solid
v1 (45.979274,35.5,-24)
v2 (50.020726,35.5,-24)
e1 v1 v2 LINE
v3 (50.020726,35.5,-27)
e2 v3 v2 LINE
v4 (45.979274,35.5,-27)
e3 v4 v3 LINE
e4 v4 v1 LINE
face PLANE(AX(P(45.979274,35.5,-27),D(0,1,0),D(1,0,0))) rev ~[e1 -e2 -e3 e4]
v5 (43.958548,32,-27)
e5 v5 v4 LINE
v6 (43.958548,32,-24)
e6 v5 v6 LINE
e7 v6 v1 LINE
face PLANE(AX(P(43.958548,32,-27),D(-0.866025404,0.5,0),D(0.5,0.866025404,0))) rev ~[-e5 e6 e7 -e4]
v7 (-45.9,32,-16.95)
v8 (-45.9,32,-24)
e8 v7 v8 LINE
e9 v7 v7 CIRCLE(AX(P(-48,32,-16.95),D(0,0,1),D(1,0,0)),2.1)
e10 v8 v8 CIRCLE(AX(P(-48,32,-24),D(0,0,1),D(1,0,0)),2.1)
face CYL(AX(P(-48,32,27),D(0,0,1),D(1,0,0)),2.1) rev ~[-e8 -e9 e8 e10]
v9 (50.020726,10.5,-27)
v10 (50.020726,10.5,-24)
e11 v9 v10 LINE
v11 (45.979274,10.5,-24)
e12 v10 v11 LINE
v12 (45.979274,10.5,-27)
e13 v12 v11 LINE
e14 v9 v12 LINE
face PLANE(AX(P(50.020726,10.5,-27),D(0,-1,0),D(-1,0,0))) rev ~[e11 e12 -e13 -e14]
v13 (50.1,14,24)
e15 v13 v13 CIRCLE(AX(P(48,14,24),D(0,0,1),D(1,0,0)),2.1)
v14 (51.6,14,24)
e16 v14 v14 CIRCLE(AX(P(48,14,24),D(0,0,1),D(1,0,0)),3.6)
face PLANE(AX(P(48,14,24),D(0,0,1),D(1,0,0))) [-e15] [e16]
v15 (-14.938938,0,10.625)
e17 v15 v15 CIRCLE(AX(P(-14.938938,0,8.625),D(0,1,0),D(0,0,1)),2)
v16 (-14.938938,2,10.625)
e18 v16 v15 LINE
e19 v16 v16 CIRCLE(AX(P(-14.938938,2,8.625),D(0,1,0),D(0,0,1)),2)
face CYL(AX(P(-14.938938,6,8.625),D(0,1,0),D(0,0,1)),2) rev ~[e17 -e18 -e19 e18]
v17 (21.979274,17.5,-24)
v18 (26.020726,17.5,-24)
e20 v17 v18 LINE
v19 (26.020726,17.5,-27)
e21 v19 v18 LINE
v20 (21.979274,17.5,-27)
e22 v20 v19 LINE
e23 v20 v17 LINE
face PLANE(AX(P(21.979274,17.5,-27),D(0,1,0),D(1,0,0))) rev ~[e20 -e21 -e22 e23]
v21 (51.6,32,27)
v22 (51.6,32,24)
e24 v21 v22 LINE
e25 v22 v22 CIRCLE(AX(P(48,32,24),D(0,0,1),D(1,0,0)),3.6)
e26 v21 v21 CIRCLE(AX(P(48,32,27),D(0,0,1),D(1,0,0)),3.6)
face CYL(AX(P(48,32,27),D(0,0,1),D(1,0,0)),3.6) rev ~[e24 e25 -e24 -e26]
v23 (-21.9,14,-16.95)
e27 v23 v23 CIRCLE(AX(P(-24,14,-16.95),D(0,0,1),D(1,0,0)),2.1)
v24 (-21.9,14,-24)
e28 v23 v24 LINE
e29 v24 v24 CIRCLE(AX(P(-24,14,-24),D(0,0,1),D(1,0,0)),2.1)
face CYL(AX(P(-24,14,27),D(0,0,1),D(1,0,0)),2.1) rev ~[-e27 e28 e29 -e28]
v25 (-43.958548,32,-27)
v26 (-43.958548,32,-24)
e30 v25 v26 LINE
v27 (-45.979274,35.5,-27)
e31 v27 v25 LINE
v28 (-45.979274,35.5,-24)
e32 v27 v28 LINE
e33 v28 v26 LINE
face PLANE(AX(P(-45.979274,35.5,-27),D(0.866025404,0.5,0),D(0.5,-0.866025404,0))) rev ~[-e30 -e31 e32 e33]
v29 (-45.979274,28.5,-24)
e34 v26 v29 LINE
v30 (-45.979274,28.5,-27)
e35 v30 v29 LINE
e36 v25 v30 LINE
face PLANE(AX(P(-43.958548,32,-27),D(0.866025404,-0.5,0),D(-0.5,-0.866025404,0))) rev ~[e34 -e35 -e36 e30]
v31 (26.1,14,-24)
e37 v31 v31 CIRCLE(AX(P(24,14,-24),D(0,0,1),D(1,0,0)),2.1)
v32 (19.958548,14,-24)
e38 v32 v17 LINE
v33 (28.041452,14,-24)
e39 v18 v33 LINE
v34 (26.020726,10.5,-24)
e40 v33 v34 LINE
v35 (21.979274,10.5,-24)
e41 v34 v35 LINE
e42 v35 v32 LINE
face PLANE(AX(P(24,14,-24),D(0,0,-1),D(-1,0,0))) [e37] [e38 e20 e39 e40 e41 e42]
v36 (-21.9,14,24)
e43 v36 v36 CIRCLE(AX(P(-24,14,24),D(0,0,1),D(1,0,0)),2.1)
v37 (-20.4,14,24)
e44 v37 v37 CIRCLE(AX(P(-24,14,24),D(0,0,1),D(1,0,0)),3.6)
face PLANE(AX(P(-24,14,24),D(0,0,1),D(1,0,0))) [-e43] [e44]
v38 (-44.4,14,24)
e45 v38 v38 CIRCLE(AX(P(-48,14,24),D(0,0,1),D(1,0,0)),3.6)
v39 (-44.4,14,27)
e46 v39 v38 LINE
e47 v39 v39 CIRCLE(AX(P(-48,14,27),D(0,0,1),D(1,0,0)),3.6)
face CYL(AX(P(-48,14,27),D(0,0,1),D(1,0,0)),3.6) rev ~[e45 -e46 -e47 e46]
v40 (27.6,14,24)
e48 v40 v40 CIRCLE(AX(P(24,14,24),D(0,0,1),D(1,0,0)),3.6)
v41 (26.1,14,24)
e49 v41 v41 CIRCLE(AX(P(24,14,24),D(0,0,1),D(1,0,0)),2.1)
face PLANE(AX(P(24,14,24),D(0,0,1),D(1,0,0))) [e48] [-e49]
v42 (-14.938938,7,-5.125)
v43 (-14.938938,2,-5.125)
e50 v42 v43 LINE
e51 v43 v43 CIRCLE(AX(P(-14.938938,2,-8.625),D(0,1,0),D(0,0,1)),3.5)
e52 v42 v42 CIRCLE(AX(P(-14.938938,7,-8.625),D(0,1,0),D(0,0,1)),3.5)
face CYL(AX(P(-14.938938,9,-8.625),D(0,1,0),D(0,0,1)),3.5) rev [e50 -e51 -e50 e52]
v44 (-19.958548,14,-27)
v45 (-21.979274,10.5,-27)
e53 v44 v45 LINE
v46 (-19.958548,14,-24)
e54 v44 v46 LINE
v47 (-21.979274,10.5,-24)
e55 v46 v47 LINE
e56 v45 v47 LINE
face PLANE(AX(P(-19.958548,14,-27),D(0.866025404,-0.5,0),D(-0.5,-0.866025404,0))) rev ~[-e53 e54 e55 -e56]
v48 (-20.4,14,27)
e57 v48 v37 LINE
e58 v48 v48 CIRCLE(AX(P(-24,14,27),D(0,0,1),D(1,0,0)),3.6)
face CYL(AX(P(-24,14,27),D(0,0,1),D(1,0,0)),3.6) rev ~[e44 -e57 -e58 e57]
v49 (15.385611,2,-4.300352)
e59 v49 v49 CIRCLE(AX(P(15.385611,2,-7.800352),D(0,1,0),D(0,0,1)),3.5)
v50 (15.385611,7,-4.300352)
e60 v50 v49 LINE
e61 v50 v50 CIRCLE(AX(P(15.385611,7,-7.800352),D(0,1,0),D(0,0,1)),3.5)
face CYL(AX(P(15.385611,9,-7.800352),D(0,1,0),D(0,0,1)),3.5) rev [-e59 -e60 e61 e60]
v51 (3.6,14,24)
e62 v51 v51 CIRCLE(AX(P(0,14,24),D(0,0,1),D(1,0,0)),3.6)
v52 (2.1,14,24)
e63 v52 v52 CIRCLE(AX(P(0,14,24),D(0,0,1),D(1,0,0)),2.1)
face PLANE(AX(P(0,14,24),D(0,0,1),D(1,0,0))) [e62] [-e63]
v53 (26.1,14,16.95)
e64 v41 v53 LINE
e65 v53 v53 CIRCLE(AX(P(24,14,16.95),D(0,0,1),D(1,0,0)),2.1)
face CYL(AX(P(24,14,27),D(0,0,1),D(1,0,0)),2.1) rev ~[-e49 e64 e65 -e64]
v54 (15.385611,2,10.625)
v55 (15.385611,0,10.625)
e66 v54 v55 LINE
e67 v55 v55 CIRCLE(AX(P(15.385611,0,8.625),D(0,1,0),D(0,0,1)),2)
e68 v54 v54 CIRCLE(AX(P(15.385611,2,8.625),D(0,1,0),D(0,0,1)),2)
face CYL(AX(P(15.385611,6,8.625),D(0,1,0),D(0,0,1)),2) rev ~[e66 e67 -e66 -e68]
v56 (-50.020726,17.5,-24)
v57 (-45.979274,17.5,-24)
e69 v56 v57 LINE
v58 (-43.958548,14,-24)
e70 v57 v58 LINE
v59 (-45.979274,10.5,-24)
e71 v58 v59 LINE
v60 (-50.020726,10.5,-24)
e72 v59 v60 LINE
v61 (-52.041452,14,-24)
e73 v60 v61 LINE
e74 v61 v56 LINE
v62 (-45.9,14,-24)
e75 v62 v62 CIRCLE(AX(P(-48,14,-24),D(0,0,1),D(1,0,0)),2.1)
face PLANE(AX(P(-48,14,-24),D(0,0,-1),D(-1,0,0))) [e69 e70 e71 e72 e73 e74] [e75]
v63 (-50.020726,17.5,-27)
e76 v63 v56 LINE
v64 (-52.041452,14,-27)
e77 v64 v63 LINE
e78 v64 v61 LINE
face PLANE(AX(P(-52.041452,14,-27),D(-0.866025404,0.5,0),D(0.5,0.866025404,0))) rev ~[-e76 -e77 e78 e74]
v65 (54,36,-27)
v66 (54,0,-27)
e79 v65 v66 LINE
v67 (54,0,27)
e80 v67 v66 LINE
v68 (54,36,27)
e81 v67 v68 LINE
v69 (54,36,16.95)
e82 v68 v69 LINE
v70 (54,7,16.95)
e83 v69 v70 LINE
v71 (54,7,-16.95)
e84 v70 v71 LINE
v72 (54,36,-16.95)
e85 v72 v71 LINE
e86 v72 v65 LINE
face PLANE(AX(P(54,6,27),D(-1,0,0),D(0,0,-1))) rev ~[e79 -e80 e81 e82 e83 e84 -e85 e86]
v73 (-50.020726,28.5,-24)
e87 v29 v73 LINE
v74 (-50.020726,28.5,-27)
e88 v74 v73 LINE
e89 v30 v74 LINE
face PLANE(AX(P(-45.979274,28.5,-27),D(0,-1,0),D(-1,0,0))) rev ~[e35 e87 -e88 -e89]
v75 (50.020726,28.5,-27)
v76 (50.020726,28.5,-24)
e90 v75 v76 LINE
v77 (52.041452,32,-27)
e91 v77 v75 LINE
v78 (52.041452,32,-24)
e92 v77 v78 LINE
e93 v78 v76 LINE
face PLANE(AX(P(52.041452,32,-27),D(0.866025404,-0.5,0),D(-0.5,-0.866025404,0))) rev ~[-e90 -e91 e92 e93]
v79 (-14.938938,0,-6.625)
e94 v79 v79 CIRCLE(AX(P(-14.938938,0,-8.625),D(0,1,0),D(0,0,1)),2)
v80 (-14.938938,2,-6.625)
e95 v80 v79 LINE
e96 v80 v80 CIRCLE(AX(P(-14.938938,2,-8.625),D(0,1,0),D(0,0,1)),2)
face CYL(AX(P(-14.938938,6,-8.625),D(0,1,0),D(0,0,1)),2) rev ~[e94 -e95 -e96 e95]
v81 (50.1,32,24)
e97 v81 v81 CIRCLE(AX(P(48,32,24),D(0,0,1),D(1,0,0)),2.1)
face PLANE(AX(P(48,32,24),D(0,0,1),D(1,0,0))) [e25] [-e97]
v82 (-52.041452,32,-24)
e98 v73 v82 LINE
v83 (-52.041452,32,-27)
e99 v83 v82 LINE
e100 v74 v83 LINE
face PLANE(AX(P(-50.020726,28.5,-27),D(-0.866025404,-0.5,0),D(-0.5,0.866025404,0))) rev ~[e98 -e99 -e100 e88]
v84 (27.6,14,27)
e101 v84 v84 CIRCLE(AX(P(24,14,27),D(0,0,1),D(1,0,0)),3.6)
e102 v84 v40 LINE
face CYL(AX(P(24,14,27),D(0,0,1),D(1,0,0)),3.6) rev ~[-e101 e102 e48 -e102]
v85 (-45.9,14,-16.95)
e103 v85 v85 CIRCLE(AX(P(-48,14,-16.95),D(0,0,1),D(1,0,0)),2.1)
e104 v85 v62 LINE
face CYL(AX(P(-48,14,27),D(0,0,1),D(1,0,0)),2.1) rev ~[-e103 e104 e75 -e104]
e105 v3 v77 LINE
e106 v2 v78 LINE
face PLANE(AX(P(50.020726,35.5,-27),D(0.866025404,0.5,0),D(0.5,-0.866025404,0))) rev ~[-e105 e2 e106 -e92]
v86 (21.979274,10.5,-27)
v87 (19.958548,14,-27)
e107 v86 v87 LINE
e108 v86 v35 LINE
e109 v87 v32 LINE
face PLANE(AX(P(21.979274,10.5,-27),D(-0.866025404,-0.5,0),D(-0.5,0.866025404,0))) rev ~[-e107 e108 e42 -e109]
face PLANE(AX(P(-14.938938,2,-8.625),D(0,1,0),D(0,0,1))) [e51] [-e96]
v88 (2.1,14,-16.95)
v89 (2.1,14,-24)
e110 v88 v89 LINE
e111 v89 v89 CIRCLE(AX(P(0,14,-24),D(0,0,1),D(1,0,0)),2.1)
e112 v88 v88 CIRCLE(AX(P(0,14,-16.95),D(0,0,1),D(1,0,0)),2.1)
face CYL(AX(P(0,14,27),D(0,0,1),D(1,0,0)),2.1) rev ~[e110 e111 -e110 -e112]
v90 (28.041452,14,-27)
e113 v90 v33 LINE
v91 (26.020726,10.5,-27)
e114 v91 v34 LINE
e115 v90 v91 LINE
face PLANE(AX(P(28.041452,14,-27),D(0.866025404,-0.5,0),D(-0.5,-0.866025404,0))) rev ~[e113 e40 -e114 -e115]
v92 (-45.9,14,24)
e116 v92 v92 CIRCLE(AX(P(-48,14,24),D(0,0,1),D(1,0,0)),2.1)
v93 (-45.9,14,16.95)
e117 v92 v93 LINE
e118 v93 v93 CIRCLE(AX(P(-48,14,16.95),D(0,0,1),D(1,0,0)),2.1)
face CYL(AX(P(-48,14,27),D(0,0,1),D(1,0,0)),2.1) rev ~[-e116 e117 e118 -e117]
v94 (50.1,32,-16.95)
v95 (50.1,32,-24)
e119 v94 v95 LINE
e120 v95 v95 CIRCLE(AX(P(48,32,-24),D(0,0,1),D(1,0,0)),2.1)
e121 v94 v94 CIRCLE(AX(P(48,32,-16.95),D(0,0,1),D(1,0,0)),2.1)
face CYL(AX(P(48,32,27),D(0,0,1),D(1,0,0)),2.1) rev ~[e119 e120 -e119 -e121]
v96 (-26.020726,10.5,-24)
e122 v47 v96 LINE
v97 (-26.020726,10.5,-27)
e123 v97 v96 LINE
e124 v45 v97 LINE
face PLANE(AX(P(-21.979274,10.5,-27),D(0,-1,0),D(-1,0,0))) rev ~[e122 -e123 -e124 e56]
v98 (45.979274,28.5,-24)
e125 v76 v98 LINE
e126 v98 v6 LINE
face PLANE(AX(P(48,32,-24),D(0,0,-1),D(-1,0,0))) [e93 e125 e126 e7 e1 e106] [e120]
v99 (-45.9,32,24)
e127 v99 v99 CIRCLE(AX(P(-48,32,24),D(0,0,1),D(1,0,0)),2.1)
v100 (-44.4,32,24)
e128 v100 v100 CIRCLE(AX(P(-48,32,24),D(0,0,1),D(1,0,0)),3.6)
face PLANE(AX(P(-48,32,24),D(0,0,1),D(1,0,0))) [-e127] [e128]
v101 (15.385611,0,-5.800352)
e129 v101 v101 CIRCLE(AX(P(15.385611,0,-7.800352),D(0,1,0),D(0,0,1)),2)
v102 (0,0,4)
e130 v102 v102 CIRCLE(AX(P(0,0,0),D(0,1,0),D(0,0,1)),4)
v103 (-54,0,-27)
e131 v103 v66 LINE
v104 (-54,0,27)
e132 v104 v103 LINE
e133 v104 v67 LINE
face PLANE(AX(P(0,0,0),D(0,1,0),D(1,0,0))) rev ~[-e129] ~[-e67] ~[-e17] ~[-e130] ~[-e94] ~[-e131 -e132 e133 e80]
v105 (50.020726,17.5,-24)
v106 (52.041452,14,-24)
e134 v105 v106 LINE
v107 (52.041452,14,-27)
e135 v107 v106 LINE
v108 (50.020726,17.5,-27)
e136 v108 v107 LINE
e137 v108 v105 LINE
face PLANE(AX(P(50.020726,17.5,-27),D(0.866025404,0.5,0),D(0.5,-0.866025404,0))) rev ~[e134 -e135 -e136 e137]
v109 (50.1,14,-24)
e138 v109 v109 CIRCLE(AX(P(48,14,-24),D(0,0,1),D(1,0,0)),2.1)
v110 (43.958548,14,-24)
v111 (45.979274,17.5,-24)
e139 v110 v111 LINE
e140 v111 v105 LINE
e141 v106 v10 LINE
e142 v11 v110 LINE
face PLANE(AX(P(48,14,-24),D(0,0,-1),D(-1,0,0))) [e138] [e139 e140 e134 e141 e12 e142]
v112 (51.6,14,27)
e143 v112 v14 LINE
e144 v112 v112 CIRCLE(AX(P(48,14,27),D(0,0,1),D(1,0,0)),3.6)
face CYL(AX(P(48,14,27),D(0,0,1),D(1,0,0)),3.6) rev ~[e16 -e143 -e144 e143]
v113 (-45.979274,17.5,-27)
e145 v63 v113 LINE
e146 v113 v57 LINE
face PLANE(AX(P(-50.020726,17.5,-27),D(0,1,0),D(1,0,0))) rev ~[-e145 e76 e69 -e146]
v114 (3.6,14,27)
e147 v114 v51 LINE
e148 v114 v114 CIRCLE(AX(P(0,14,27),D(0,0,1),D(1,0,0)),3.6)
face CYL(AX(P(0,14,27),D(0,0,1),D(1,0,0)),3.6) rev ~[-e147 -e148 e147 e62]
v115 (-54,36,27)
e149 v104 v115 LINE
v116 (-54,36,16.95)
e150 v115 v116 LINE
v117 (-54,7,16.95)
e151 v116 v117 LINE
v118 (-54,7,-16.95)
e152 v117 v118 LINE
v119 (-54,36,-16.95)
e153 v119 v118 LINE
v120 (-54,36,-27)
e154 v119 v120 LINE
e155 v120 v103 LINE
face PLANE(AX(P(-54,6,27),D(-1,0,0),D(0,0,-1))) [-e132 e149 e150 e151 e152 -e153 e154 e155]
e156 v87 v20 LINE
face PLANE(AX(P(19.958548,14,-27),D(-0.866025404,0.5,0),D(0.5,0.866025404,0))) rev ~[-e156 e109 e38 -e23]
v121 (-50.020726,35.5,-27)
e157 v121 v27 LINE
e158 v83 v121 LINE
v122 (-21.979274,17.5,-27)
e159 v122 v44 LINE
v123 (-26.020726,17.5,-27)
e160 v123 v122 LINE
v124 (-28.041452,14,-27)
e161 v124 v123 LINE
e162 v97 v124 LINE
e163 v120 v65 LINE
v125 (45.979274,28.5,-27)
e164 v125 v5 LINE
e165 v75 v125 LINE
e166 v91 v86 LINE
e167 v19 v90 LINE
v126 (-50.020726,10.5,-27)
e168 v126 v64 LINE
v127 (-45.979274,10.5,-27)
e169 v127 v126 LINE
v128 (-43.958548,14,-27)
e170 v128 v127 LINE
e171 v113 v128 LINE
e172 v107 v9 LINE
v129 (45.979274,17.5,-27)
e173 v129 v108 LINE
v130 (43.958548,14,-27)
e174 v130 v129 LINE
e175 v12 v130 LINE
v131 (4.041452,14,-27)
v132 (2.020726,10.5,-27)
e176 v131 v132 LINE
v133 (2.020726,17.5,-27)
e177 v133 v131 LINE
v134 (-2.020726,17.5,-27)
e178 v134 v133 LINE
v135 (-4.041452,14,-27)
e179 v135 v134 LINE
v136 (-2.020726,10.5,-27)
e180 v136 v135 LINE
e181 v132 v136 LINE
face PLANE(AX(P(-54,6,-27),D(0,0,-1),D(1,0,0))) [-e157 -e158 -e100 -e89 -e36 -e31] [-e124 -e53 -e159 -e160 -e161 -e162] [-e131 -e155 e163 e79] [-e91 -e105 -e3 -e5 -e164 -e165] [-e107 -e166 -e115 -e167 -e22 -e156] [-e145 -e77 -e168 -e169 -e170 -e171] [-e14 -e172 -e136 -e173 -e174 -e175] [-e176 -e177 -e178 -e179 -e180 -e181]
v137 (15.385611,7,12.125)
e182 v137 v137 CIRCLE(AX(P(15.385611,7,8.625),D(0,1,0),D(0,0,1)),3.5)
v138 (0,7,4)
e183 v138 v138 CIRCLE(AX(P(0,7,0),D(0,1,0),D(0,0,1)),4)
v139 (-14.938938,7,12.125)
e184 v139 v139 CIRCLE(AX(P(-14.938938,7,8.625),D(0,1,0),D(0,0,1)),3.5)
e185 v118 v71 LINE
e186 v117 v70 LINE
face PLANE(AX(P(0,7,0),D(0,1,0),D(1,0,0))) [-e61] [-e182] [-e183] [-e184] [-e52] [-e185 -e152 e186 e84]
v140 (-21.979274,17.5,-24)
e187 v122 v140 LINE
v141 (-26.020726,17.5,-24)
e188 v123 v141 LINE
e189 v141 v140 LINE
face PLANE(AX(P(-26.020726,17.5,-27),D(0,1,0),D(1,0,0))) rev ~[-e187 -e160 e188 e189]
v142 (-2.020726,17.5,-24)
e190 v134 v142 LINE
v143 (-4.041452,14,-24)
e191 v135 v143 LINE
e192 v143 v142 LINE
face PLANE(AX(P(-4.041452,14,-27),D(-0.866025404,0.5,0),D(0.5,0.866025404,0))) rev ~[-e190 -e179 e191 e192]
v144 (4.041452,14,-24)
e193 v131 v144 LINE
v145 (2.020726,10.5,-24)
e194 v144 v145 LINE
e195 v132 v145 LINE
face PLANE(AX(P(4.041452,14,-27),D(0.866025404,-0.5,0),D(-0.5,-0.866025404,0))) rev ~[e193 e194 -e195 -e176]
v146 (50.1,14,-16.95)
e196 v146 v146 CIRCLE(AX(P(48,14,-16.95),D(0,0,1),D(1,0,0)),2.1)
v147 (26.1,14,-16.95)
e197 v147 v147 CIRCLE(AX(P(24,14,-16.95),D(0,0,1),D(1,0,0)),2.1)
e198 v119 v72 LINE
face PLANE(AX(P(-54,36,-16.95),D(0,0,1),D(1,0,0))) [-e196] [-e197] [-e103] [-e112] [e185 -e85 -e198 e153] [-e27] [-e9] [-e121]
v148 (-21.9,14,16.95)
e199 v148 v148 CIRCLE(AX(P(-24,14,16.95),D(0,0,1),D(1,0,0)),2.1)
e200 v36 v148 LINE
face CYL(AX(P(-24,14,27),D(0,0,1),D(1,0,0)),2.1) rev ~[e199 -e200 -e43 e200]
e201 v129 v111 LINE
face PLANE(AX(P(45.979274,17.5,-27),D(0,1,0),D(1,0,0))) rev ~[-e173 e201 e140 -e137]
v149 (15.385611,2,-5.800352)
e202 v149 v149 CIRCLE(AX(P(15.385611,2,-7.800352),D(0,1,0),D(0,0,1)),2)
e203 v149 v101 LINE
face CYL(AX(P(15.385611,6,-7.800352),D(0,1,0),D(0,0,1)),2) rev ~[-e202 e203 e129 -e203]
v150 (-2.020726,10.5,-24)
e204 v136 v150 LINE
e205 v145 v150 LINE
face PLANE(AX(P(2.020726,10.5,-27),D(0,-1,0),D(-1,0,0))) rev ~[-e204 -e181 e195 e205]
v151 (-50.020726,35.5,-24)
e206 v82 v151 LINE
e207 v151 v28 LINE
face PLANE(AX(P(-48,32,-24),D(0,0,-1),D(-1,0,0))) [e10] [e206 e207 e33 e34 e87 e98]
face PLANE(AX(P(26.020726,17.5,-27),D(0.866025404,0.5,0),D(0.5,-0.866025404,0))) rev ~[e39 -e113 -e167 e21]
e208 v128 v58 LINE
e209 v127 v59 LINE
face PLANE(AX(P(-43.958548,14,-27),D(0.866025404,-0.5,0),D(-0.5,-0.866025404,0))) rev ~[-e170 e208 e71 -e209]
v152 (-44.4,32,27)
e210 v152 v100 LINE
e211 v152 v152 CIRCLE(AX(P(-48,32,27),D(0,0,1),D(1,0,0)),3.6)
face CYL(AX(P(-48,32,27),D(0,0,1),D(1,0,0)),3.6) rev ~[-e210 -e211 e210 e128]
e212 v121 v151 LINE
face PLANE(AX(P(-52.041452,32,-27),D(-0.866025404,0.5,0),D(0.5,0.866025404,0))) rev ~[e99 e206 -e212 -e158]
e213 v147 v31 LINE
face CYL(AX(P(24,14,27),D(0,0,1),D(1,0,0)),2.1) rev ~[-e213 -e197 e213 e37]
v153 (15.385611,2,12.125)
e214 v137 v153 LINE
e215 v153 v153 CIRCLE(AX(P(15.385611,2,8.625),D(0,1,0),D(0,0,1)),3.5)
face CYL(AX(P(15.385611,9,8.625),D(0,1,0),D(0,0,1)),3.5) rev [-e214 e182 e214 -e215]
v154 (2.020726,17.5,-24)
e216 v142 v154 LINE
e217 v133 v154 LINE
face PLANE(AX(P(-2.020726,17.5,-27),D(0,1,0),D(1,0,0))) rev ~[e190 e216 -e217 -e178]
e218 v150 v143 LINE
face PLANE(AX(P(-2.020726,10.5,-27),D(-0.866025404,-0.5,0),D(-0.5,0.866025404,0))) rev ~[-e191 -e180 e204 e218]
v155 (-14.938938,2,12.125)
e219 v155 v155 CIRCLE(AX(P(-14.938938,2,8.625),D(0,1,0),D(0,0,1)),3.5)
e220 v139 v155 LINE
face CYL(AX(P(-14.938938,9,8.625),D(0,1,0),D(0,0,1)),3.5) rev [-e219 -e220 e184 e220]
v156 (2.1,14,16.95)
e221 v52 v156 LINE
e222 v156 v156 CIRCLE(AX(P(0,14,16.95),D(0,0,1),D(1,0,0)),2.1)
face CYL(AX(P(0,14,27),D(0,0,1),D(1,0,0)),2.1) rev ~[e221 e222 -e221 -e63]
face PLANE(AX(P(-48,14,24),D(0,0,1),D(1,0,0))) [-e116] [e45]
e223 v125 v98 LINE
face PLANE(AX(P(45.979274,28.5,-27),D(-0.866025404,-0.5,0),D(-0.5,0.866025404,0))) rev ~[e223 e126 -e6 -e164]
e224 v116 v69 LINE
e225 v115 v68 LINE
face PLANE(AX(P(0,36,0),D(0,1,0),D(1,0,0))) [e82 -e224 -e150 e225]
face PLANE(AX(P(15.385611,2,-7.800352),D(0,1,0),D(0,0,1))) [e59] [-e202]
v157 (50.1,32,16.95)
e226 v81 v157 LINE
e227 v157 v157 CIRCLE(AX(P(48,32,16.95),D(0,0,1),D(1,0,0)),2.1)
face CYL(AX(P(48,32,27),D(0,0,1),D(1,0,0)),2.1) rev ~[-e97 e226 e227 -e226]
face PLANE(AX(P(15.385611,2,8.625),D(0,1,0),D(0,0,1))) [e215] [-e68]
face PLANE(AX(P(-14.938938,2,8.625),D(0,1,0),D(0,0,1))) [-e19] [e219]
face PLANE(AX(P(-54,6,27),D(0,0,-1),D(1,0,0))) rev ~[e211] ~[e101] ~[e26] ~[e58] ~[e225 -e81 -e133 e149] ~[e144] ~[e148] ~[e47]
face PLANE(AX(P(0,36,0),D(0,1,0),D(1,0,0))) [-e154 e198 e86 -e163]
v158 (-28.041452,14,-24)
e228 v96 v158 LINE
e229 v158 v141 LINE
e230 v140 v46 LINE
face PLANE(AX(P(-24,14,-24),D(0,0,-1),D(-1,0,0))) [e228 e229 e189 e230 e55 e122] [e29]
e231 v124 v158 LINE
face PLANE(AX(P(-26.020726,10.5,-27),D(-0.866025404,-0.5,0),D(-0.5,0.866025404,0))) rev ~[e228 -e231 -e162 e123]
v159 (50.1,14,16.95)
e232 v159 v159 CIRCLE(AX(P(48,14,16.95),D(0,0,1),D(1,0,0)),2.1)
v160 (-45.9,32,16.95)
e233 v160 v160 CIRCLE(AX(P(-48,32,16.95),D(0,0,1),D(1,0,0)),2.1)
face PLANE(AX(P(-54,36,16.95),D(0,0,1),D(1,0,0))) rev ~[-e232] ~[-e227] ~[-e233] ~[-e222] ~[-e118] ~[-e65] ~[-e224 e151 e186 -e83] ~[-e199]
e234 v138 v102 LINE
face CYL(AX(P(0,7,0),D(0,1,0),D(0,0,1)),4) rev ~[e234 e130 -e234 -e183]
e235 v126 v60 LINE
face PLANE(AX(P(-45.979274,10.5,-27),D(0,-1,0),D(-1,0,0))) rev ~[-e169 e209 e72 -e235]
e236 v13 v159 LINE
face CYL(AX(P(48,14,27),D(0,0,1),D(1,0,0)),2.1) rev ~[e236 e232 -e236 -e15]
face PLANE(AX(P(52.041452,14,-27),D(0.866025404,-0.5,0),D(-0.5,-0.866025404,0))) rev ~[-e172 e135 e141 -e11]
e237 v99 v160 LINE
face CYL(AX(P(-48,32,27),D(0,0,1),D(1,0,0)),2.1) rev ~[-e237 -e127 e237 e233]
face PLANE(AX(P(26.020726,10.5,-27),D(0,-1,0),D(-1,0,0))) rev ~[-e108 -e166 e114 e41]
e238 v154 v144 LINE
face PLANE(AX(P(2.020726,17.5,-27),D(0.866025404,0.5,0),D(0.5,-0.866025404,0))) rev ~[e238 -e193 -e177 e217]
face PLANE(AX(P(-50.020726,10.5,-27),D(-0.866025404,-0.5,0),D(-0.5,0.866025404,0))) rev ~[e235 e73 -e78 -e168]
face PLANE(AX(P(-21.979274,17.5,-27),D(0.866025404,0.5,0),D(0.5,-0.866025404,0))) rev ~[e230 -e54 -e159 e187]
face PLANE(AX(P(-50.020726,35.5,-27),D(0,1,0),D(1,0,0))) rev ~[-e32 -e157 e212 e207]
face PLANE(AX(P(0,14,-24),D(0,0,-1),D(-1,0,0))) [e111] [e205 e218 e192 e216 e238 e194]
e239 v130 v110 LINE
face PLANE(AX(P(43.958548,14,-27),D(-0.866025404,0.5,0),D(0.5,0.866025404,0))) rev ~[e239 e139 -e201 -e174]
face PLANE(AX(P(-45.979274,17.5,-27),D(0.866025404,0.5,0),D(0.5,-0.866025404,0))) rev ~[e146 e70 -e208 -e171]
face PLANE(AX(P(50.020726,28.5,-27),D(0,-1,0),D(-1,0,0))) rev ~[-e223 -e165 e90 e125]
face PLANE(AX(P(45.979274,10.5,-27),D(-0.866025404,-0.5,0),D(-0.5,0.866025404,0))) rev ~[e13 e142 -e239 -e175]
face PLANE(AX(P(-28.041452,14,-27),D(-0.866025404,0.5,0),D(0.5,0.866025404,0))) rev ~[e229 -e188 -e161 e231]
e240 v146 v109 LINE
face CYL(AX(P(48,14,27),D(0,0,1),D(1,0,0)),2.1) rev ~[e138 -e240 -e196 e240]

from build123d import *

# Parameters (mm, degrees)
SKETCH1_W           = 108
SKETCH1_H           = 54
BOSS_EXTRUDE1_DEPTH = 6
SKETCH2_R           = 2
CUT_EXTRUDE1_DEPTH  = 12
SKETCH3_R           = 3.5
CUT_EXTRUDE3_DEPTH  = 4
SKETCH4_W           = 108
SKETCH4_H           = 54
BOSS_EXTRUDE2_DEPTH = 30
SKETCH5_W           = 108
SKETCH5_H           = 33.9
CUT_EXTRUDE4_DEPTH  = 29
SKETCH6_R           = 2.1
CUT_EXTRUDE5_DEPTH  = 67
SKETCH7_R           = 3.6
CUT_EXTRUDE6_DEPTH  = 3
CUT_EXTRUDE7_DEPTH  = 3
CUT_EXTRUDE8_START  = -3
SKETCH10_R          = 3.5
CUT_EXTRUDE8_DEPTH  = 3
SKETCH11_R          = 4
CUT_EXTRUDE9_DEPTH  = 10


with BuildPart() as part:
    # Sketch1 → Boss-Extrude1 (new body)
    with BuildSketch(Plane(origin=(0, 0, 0), x_dir=(1, 0, 0), z_dir=(0, 1, 0))):
        Rectangle(SKETCH1_W, SKETCH1_H)
    extrude(amount=BOSS_EXTRUDE1_DEPTH)

    # Sketch2 → Cut-Extrude1 (cut)
    with BuildSketch(Plane(origin=(0, 6, 0), x_dir=(1, 0, 0), z_dir=(0, 1, 0))):
        with Locations(Location((-14.938938215, 8.625, 0), (0, 0, 270))):
            Circle(SKETCH2_R)
        with Locations(Location((-14.938938215, -8.625, 0), (0, 0, 270))):
            Circle(SKETCH2_R)
        with Locations(Location((15.385610645, 7.800351601, 0), (0, 0, 270))):
            Circle(SKETCH2_R)
        with Locations(Location((15.385610645, -8.625, 0), (0, 0, 270))):
            Circle(SKETCH2_R)
    extrude(amount=-CUT_EXTRUDE1_DEPTH, mode=Mode.SUBTRACT)

    # Sketch3 → Cut-Extrude3 (cut)
    with BuildSketch(Plane(origin=(0, 6, 0), x_dir=(1, 0, 0), z_dir=(0, 1, 0))):
        with Locations(Location((-14.938938215, 8.625, 0), (0, 0, 270))):
            Circle(SKETCH3_R)
        with Locations(Location((-14.938938215, -8.625, 0), (0, 0, 270))):
            Circle(SKETCH3_R)
        with Locations(Location((15.385610645, 7.800351601, 0), (0, 0, 270))):
            Circle(SKETCH3_R)
        with Locations(Location((15.385610645, -8.625, 0), (0, 0, 270))):
            Circle(SKETCH3_R)
    extrude(amount=-CUT_EXTRUDE3_DEPTH, mode=Mode.SUBTRACT)

    # Sketch4 → Boss-Extrude2 (add)
    with BuildSketch(Plane(origin=(0, 6, 0), x_dir=(1, 0, 0), z_dir=(0, 1, 0))):
        Rectangle(SKETCH4_W, SKETCH4_H)
    extrude(amount=BOSS_EXTRUDE2_DEPTH)

    # Sketch5 → Cut-Extrude4 (cut)
    with BuildSketch(Plane(origin=(0, 36, 0), x_dir=(1, 0, 0), z_dir=(0, 1, 0))):
        Rectangle(SKETCH5_W, SKETCH5_H)
    extrude(amount=-CUT_EXTRUDE4_DEPTH, mode=Mode.SUBTRACT)

    # Sketch6 → Cut-Extrude5 (cut)
    with BuildSketch(Plane.XY.offset(27)):
        with Locations((0, 14)):
            Circle(SKETCH6_R)
        with Locations((-24, 14)):
            Circle(SKETCH6_R)
        with Locations((-48, 14)):
            Circle(SKETCH6_R)
        with Locations((24, 14)):
            Circle(SKETCH6_R)
        with Locations((48, 14)):
            Circle(SKETCH6_R)
        with Locations((48, 32)):
            Circle(SKETCH6_R)
        with Locations((-48, 32)):
            Circle(SKETCH6_R)
    extrude(amount=-CUT_EXTRUDE5_DEPTH, mode=Mode.SUBTRACT)

    # Sketch7 → Cut-Extrude6 (cut)
    with BuildSketch(Plane.XY.offset(27)):
        with Locations((-48, 32)):
            Circle(SKETCH7_R)
        with Locations((-48, 14)):
            Circle(SKETCH7_R)
        with Locations((-24, 14)):
            Circle(SKETCH7_R)
        with Locations((0, 14)):
            Circle(SKETCH7_R)
        with Locations((24, 14)):
            Circle(SKETCH7_R)
        with Locations((48, 14)):
            Circle(SKETCH7_R)
        with Locations((48, 32)):
            Circle(SKETCH7_R)
    extrude(amount=-CUT_EXTRUDE6_DEPTH, mode=Mode.SUBTRACT)

    # Sketch8 → Cut-Extrude7 (cut)
    with BuildSketch(Plane(origin=(0, 0, -27), x_dir=(-1, 0, 0), z_dir=(0, 0, -1))):
        Polygon((-50.020725942, 28.5), (-45.979274058, 28.5), (-43.958548116, 32), (-45.979274058, 35.5), (-50.020725942, 35.5), (-52.041451884, 32), align=None)
        Polygon((-50.020725942, 10.5), (-45.979274058, 10.5), (-43.958548116, 14), (-45.979274058, 17.5), (-50.020725942, 17.5), (-52.041451884, 14), align=None)
        Polygon((-26.020725942, 10.5), (-21.979274058, 10.5), (-19.958548116, 14), (-21.979274058, 17.5), (-26.020725942, 17.5), (-28.041451884, 14), align=None)
        Polygon((-2.020725942, 10.5), (2.020725942, 10.5), (4.041451884, 14), (2.020725942, 17.5), (-2.020725942, 17.5), (-4.041451884, 14), align=None)
        Polygon((21.979274058, 10.5), (26.020725942, 10.5), (28.041451884, 14), (26.020725942, 17.5), (21.979274058, 17.5), (19.958548116, 14), align=None)
        Polygon((45.979274058, 10.5), (50.020725942, 10.5), (52.041451884, 14), (50.020725942, 17.5), (45.979274058, 17.5), (43.958548116, 14), align=None)
        Polygon((45.979274058, 28.5), (50.020725942, 28.5), (52.041451884, 32), (50.020725942, 35.5), (45.979274058, 35.5), (43.958548116, 32), align=None)
    extrude(amount=-CUT_EXTRUDE7_DEPTH, mode=Mode.SUBTRACT)

    # Sketch10 → Cut-Extrude8 (cut)
    with BuildSketch(Plane.XZ.offset(-6).offset(CUT_EXTRUDE8_START)):
        with Locations(Location((-14.938938215, -8.625, 0), (0, 0, 90))):
            Circle(SKETCH10_R)
        with Locations(Location((-14.938938215, 8.625, 0), (0, 0, 90))):
            Circle(SKETCH10_R)
        with Locations(Location((15.385610645, 8.625, 0), (0, 0, 90))):
            Circle(SKETCH10_R)
        with Locations(Location((15.385610645, -7.800351601, 0), (0, 0, 90))):
            Circle(SKETCH10_R)
    extrude(amount=CUT_EXTRUDE8_DEPTH, mode=Mode.SUBTRACT)

    # Sketch11 → Cut-Extrude9 (cut)
    with BuildSketch(Plane(origin=(0, 7, 0), x_dir=(1, 0, 0), z_dir=(0, 1, 0))):
        with Locations(Location((0, 0, 0), (0, 0, 270))):
            Circle(SKETCH11_R)
    extrude(amount=-CUT_EXTRUDE9_DEPTH, mode=Mode.SUBTRACT)


solid = part.part
